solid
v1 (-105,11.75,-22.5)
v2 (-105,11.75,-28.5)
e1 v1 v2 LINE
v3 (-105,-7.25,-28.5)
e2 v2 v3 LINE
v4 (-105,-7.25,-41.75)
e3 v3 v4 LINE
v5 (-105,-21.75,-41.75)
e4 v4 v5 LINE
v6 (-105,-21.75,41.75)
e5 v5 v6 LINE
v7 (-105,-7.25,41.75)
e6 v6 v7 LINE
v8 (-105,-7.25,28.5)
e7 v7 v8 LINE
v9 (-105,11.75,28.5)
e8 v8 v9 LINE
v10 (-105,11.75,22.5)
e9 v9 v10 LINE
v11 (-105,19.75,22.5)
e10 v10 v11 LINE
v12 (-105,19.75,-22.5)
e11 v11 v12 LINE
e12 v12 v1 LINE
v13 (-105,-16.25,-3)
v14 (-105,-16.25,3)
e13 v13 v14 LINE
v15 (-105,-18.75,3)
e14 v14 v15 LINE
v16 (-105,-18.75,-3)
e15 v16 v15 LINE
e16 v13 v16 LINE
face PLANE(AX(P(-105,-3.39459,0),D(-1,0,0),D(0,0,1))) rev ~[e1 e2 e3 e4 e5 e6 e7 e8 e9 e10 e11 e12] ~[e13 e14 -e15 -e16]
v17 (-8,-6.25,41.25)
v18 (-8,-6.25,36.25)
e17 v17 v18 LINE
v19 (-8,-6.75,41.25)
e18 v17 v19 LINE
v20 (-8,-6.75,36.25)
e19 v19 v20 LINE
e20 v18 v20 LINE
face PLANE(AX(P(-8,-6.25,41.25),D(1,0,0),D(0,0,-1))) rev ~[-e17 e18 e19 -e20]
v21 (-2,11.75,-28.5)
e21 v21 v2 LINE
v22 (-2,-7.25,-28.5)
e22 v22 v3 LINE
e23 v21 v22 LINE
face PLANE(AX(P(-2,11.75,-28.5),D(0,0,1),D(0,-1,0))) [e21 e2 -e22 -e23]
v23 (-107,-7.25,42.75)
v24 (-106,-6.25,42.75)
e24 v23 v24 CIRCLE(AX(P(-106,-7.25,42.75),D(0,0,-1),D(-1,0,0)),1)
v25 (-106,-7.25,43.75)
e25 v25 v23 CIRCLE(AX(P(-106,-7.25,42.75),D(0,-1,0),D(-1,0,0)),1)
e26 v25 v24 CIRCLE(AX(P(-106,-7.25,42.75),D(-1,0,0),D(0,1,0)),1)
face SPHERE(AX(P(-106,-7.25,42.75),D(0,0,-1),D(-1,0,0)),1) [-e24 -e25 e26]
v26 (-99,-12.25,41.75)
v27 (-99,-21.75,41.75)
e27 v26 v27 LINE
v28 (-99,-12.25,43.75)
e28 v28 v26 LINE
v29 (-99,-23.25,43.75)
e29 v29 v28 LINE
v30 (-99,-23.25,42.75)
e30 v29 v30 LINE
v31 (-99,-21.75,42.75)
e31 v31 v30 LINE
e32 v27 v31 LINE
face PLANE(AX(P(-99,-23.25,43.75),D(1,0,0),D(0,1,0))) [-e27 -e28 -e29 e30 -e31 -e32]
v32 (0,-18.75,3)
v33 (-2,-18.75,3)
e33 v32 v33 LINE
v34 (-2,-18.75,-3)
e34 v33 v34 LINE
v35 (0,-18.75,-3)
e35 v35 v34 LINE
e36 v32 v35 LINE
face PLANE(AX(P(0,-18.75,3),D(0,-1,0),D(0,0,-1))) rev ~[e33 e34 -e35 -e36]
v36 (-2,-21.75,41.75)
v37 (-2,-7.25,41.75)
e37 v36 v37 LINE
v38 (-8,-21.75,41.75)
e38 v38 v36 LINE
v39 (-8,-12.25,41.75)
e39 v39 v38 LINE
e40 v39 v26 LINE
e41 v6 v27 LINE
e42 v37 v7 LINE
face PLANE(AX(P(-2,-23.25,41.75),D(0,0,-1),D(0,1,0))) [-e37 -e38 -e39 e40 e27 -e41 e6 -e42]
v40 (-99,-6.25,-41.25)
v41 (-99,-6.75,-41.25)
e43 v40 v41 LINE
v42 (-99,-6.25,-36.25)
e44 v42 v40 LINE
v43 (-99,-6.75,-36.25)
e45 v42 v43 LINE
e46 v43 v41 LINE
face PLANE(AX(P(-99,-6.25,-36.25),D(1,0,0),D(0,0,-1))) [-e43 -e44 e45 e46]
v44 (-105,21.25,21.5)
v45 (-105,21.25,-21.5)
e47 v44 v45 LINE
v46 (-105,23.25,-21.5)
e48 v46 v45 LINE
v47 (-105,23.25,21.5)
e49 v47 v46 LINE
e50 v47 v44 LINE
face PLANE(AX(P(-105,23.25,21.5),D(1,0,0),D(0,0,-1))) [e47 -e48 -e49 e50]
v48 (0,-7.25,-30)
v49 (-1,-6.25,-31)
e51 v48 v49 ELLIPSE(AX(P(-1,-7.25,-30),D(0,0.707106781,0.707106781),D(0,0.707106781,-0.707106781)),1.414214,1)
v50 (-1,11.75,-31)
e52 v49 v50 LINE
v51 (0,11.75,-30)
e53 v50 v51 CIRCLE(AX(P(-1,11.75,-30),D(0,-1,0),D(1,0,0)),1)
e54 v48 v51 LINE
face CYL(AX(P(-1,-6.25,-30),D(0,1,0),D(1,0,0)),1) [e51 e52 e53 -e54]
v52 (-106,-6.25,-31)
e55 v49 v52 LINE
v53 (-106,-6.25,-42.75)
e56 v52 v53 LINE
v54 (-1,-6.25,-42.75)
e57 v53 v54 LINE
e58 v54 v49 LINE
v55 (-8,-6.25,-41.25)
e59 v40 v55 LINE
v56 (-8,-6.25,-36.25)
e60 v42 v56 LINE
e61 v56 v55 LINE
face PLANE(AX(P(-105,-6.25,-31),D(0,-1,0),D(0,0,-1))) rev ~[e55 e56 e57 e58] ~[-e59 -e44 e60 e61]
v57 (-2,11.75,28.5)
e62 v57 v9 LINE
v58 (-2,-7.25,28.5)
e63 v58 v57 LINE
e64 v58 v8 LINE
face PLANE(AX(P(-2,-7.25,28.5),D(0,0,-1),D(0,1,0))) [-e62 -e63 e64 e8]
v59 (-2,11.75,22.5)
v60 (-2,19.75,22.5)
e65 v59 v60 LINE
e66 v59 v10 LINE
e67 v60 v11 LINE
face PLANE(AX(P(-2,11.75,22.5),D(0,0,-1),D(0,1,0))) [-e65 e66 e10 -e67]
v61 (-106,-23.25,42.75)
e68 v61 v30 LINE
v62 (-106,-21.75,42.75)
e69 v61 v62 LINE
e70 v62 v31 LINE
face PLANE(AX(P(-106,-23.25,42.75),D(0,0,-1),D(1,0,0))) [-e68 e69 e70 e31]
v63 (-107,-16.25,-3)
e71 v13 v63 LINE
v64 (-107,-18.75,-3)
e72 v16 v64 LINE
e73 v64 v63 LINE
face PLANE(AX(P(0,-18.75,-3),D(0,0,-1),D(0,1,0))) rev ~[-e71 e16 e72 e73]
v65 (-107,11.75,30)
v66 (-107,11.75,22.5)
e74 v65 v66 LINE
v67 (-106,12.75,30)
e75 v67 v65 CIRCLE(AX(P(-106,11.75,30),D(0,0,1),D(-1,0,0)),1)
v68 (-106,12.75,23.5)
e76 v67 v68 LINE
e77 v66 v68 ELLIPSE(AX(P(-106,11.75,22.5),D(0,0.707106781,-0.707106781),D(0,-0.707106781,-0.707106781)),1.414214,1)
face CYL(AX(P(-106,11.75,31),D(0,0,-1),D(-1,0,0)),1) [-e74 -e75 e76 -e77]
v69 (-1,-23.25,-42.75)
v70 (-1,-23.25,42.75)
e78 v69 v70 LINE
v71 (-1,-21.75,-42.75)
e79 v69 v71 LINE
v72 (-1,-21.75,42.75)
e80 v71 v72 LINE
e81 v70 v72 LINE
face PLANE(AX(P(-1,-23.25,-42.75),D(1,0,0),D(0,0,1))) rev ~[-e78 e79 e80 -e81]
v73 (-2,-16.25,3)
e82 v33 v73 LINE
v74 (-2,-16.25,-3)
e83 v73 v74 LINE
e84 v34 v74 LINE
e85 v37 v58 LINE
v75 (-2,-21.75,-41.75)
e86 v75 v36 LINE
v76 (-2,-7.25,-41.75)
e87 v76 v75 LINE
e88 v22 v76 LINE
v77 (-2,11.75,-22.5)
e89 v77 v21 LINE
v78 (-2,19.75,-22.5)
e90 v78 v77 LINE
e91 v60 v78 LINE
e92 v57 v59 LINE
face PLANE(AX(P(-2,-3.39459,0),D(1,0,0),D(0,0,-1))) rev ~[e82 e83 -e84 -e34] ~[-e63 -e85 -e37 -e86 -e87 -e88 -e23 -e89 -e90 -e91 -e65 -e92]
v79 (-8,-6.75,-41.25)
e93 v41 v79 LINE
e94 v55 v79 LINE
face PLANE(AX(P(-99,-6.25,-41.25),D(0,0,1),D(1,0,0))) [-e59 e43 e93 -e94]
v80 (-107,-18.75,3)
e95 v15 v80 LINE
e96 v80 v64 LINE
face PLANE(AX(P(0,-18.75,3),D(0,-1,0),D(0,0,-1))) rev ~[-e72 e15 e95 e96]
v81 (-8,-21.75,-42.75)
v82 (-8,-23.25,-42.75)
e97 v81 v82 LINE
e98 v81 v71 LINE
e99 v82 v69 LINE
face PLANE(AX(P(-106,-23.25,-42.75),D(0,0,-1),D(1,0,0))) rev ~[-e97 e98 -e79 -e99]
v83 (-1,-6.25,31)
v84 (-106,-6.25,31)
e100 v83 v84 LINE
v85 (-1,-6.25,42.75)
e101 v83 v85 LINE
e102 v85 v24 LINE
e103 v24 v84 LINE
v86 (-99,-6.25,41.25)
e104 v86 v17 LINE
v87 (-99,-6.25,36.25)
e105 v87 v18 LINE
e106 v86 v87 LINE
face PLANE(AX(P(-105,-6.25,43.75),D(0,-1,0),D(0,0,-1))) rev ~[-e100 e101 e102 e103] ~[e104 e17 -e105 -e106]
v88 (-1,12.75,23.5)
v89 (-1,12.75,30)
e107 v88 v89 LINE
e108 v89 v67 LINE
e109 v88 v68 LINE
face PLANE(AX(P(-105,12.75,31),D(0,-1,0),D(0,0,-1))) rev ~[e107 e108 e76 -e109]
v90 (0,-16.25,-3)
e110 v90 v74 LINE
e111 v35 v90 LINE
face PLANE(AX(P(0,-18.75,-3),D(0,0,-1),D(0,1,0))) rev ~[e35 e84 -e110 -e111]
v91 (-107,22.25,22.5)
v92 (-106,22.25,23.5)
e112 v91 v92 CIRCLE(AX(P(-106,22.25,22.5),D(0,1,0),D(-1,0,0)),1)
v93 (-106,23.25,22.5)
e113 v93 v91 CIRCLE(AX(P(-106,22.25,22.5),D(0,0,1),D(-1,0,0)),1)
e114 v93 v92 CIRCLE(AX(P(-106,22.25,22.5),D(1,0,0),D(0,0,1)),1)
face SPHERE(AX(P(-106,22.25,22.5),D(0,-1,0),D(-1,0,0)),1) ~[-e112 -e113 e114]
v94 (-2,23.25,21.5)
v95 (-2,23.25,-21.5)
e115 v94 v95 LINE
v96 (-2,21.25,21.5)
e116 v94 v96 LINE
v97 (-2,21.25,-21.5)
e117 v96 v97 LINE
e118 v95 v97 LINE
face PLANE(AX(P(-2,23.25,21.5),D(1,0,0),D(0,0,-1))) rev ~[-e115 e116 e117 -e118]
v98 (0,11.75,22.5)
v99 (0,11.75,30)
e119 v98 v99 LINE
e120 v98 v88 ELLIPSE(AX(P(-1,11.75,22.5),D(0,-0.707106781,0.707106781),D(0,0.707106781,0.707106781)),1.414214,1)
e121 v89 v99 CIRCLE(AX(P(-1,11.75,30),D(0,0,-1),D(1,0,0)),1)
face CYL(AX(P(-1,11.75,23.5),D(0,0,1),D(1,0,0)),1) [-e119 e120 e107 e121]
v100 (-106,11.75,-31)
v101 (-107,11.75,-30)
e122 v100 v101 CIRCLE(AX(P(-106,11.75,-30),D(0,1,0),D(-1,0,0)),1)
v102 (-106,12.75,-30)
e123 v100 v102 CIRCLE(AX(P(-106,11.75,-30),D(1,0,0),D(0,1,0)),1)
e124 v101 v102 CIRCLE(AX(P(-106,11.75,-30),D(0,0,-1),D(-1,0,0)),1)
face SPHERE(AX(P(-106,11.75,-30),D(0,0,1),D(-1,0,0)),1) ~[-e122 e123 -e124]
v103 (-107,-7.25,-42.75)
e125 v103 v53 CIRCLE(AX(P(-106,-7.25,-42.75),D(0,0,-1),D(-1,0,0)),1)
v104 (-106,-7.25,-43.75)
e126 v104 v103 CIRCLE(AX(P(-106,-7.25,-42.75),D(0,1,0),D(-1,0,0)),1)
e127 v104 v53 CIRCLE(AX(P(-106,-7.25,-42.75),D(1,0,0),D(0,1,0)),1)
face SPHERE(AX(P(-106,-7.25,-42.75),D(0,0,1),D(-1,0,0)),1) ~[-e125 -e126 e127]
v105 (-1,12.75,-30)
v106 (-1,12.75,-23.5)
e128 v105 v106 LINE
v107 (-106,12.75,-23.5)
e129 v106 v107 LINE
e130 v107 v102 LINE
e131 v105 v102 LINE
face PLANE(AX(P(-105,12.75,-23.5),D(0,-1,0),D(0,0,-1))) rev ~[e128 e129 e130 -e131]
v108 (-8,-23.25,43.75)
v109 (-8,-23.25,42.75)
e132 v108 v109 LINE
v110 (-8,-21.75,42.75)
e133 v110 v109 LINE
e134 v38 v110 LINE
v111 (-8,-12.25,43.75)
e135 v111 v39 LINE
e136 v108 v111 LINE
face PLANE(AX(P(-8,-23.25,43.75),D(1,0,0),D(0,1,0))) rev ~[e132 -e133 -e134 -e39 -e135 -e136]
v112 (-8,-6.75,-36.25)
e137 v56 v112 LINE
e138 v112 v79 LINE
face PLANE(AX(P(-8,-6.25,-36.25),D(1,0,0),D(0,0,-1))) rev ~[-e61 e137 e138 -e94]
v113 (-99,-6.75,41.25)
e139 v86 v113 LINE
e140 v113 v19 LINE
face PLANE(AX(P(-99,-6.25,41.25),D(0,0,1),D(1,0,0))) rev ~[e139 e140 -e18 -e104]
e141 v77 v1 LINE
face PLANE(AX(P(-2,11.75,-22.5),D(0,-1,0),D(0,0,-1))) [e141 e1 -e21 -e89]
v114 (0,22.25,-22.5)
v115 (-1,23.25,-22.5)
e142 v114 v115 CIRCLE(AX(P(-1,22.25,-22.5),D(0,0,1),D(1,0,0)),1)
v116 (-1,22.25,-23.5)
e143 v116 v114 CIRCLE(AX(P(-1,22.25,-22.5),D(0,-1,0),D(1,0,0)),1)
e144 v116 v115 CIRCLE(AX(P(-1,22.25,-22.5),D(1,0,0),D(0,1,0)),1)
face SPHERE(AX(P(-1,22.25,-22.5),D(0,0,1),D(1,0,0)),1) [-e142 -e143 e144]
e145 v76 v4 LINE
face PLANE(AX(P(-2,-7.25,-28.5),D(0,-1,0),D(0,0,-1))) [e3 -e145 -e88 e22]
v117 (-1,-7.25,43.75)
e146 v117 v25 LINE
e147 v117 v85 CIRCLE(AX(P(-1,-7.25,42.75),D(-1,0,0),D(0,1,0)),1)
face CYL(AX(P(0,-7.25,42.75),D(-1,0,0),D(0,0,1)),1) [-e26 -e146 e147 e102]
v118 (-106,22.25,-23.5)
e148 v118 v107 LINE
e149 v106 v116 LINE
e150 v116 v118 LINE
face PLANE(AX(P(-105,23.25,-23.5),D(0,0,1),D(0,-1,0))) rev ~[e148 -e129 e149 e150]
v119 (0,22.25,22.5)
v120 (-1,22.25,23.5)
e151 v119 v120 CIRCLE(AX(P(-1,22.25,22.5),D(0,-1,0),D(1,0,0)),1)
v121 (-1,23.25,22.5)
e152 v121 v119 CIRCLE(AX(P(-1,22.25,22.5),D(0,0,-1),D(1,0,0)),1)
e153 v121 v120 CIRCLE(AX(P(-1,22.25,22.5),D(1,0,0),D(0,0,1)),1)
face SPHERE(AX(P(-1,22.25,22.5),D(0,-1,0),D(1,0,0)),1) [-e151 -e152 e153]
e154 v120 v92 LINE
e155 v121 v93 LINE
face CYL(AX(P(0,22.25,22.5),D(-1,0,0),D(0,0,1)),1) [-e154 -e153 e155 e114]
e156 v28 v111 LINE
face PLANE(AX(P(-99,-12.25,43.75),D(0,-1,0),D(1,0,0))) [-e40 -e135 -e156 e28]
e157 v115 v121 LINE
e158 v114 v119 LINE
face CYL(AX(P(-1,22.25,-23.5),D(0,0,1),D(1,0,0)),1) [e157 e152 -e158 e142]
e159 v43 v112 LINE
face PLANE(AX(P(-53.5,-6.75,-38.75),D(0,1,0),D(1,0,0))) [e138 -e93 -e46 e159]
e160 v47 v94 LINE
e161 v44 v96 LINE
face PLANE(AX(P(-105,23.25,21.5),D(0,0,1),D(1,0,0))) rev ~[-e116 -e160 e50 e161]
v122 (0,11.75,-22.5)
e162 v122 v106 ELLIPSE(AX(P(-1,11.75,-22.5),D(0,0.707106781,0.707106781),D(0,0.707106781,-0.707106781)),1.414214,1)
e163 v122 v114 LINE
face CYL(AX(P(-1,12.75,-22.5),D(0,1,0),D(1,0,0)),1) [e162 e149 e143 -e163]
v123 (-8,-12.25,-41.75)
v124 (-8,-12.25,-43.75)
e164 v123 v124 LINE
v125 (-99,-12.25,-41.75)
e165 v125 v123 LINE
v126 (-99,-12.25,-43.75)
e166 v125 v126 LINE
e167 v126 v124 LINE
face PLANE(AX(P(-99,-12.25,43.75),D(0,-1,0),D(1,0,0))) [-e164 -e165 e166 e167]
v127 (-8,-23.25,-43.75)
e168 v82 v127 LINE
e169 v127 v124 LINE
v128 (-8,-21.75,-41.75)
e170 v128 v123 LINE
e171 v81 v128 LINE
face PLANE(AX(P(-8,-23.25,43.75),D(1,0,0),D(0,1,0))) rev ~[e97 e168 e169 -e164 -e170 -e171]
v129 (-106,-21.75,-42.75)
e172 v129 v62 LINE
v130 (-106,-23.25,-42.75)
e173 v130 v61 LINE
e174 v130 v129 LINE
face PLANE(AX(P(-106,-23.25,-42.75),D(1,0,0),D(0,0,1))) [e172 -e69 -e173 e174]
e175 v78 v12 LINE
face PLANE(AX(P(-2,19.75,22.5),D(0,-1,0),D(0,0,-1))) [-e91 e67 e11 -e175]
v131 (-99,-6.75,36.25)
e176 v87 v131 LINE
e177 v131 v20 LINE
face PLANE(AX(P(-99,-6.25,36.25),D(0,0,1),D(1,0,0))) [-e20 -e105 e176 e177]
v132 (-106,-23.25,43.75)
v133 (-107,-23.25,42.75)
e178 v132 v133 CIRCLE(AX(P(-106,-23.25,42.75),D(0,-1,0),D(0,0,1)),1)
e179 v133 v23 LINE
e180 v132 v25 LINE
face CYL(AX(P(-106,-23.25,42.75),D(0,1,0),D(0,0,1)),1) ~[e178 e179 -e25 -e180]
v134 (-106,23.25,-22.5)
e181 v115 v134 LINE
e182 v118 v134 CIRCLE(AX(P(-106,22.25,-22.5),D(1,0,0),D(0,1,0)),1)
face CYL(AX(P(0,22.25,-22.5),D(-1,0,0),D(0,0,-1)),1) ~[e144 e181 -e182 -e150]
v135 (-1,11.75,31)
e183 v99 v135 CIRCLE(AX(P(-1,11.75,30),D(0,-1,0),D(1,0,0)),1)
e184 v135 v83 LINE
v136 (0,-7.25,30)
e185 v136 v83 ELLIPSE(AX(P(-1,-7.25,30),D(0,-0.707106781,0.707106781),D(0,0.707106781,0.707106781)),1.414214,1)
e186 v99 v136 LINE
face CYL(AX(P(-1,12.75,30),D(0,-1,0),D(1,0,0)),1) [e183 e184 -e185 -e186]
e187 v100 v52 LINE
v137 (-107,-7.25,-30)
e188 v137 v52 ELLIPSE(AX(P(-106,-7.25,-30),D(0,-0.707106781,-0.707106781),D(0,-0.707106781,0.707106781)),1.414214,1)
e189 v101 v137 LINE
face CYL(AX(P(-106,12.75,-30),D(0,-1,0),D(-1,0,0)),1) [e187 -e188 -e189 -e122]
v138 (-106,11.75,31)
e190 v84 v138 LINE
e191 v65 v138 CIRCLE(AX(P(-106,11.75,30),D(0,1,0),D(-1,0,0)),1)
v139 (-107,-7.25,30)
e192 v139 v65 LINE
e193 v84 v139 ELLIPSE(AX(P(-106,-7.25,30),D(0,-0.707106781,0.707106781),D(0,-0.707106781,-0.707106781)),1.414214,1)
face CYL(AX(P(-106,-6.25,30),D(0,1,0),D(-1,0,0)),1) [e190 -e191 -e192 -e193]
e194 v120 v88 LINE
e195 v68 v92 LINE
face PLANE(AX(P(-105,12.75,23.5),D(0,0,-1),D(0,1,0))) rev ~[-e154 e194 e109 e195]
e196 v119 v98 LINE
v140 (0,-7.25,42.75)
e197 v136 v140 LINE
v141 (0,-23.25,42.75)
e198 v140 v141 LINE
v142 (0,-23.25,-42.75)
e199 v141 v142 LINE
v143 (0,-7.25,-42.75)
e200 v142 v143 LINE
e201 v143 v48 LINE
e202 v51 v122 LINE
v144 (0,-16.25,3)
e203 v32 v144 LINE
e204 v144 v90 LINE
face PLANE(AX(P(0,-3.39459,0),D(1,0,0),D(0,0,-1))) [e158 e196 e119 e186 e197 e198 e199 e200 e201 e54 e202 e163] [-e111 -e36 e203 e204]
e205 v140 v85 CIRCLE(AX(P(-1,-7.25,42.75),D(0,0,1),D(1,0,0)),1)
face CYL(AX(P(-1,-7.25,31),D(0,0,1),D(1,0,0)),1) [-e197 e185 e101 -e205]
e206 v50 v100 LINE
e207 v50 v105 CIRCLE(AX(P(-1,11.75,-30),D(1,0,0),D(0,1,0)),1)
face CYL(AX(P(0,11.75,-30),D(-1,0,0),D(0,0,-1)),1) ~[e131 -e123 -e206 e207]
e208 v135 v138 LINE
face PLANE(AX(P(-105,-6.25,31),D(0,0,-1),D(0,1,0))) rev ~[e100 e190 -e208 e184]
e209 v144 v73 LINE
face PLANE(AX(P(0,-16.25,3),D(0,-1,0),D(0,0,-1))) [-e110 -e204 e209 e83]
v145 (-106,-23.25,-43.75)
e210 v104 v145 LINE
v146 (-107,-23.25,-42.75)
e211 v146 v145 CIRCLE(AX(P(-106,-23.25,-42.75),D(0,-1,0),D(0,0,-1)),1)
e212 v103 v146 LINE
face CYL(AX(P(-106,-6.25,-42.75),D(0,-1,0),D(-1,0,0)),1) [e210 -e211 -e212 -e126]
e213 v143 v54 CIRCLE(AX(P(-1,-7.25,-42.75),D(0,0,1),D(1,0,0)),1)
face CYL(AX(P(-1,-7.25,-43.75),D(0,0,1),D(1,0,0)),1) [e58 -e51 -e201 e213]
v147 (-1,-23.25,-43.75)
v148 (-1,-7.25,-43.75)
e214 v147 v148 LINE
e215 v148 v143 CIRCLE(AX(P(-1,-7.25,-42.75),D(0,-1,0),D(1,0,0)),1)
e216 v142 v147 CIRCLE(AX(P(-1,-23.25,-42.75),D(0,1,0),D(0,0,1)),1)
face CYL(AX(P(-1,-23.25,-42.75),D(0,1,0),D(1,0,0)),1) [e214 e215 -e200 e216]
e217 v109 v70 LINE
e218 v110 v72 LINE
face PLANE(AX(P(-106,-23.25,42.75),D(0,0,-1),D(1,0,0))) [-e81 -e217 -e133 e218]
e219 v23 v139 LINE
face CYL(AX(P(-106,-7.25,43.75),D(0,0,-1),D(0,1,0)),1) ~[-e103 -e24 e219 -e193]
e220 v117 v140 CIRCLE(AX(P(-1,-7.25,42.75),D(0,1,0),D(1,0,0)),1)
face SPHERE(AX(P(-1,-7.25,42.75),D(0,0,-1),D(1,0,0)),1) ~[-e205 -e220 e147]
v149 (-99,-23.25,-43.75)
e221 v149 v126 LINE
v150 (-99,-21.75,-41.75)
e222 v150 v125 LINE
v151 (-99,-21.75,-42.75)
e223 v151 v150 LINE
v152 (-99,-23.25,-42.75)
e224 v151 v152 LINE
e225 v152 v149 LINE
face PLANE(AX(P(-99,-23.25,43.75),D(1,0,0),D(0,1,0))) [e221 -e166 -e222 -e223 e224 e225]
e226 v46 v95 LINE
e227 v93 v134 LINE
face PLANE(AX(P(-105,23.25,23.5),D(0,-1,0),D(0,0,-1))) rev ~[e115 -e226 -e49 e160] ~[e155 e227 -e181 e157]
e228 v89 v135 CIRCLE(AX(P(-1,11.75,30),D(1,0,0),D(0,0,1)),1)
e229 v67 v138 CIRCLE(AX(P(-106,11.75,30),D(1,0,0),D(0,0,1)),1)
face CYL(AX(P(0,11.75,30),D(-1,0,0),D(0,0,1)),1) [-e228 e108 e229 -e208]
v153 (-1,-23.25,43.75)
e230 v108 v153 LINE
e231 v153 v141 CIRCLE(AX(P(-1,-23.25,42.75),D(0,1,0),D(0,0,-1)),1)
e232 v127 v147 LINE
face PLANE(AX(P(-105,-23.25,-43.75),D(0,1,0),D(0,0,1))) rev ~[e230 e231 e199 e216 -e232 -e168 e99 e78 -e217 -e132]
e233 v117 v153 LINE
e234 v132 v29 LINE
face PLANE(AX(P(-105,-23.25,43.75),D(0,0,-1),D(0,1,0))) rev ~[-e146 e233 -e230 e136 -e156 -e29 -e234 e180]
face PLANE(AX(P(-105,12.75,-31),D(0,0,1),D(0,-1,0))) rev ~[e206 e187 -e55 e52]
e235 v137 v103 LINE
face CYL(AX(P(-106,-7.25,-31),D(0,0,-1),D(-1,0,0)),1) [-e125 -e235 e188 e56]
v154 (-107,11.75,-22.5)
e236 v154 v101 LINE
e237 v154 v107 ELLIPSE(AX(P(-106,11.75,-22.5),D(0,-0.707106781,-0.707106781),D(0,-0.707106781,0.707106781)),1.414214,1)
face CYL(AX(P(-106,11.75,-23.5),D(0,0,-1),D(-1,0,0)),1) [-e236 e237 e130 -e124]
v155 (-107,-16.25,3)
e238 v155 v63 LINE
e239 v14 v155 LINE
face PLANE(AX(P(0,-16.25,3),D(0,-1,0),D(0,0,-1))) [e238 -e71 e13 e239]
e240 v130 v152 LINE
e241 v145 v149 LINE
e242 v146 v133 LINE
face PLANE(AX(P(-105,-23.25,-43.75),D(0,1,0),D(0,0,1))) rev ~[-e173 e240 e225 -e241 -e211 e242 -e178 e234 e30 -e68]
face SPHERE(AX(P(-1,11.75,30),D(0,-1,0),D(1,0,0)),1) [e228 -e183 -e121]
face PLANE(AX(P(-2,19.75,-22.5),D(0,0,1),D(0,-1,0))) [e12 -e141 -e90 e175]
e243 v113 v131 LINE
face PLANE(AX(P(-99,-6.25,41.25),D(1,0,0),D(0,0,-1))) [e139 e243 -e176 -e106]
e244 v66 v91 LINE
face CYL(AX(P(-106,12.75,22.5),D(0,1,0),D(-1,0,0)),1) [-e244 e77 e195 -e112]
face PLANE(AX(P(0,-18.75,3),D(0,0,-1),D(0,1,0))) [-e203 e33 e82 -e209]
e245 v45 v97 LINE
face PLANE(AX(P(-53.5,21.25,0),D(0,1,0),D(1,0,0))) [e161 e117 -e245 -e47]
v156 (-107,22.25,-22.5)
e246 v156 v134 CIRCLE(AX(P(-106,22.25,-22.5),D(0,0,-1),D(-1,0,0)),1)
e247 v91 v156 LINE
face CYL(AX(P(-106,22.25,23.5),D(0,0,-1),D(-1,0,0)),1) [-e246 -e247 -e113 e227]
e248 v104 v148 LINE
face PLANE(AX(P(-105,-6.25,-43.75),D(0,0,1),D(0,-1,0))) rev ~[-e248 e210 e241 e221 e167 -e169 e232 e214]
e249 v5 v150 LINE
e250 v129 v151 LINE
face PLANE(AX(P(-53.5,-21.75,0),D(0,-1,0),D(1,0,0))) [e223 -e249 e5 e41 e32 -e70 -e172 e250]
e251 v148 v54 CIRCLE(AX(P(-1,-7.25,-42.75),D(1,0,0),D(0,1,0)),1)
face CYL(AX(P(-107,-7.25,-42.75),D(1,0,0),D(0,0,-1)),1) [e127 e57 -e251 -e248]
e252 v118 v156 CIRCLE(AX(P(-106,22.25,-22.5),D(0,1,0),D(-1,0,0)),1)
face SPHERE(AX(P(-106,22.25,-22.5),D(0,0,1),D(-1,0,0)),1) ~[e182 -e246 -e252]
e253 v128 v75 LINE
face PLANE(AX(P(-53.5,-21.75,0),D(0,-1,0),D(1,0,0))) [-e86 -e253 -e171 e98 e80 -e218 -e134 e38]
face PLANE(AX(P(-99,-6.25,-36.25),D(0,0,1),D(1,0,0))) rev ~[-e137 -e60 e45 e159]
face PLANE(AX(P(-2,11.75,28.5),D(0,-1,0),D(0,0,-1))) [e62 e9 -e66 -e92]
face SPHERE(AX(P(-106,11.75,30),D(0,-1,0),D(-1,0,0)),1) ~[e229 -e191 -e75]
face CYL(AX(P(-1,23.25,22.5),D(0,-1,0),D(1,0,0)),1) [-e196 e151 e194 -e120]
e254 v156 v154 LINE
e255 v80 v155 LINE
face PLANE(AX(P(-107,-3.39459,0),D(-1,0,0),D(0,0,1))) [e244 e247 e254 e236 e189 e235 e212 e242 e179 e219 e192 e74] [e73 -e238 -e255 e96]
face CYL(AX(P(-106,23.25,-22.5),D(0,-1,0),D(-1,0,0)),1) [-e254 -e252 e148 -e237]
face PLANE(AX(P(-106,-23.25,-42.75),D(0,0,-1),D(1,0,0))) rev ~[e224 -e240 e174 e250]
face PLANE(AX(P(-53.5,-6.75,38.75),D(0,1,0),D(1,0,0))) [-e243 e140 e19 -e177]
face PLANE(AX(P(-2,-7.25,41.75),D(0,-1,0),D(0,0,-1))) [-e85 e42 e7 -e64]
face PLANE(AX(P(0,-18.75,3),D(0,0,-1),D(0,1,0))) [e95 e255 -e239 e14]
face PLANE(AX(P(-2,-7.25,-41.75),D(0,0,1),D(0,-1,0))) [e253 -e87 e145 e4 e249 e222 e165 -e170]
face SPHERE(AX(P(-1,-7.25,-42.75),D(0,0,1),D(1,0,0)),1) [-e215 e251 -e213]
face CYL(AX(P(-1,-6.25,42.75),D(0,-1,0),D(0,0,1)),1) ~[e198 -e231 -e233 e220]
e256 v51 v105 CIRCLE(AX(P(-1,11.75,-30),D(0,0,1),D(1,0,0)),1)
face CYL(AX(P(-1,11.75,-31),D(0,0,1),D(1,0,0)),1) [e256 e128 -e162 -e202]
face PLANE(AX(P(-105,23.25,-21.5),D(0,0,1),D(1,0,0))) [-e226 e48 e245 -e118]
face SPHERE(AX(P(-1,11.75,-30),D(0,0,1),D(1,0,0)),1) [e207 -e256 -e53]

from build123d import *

# Parameters (mm, degrees)
BOSS_EXTRUDE1_DEPTH = 2
BOSS_EXTRUDE2_DEPTH = 103
BOSS_EXTRUDE3_DEPTH = 2
SKETCH4_W           = 103
SKETCH4_H           = 43
CUT_EXTRUDE1_DEPTH  = 2
SKETCH5_W           = 91
SKETCH5_H           = 5
CUT_EXTRUDE2_DEPTH  = 0.5
SKETCH7_W           = 105
SKETCH7_H           = 85.5
SKETCH7_W_2         = 103
SKETCH7_H_2         = 83.5
CUT_EXTRUDE3_DEPTH  = 1.5
CUT_EXTRUDE4_REACH  = 142.164
SKETCH8_W           = 91
SKETCH8_H           = 11
CUT_EXTRUDE5_REACH  = 119.914
SKETCH9_W           = 6
SKETCH9_H           = 2.5
FILLET1_R           = 1


with BuildPart() as part:
    # Sketch1 → Boss-Extrude1 (new body)
    with BuildSketch(Plane(origin=(0, 0, 0), x_dir=(0, 0, -1), z_dir=(1, 0, 0))):
        Polygon((-43.75, -23.25), (43.75, -23.25), (43.75, -6.25), (31, -6.25), (31, 12.75), (23.5, 12.75), (23.5, 23.25), (-23.5, 23.25), (-23.5, 12.75), (-31, 12.75), (-31, -6.25), (-43.75, -6.25), align=None)
    extrude(amount=-BOSS_EXTRUDE1_DEPTH)

    # Sketch2 → Boss-Extrude2 (add)
    with BuildSketch(Plane.ZY.offset(2)):
        Polygon((-43.75, -23.25), (-43.75, -6.25), (-31, -6.25), (-31, 12.75), (-23.5, 12.75), (-23.5, 23.25), (23.5, 23.25), (23.5, 12.75), (31, 12.75), (31, -6.25), (43.75, -6.25), (43.75, -23.25), (41.75, -23.25), (41.75, -7.25), (28.5, -7.25), (28.5, 11.75), (22.5, 11.75), (22.5, 19.75), (-22.5, 19.75), (-22.5, 11.75), (-28.5, 11.75), (-28.5, -7.25), (-41.75, -7.25), (-41.75, -23.25), align=None)
    extrude(amount=BOSS_EXTRUDE2_DEPTH)

    # Sketch3 → Boss-Extrude3 (add)
    with BuildSketch(Plane.ZY.offset(105)):
        Polygon((43.75, -23.25), (43.75, -6.25), (31, -6.25), (31, 12.75), (23.5, 12.75), (23.5, 23.25), (-23.5, 23.25), (-23.5, 12.75), (-31, 12.75), (-31, -6.25), (-43.75, -6.25), (-43.75, -23.25), align=None)
    extrude(amount=BOSS_EXTRUDE3_DEPTH)

    # Sketch4 → Cut-Extrude1 (cut)
    with BuildSketch(Plane(origin=(0, 23.25, 0), x_dir=(1, 0, 0), z_dir=(0, 1, 0))):
        with Locations((-53.5, 0)):
            Rectangle(SKETCH4_W, SKETCH4_H)
    extrude(amount=-CUT_EXTRUDE1_DEPTH, mode=Mode.SUBTRACT)

    # Sketch5 → Cut-Extrude2 (cut)
    with BuildSketch(Plane(origin=(0, -6.25, 0), x_dir=(1, 0, 0), z_dir=(0, 1, 0))):
        with Locations((-53.5, -38.75)):
            Rectangle(SKETCH5_W, SKETCH5_H)
        with Locations((-53.5, 38.75)):
            Rectangle(SKETCH5_W, SKETCH5_H)
    extrude(amount=-CUT_EXTRUDE2_DEPTH, mode=Mode.SUBTRACT)

    # Sketch7 → Cut-Extrude3 (cut)
    with BuildSketch(Plane.XZ.offset(23.25)):
        with Locations((-53.5, 0)):
            Rectangle(SKETCH7_W, SKETCH7_H)
        with Locations((-53.5, 0)):
            Rectangle(SKETCH7_W_2, SKETCH7_H_2, mode=Mode.SUBTRACT)
    extrude(amount=-CUT_EXTRUDE3_DEPTH, mode=Mode.SUBTRACT)

    # Cut-Extrude4: up to this face of the body (flat: up to its plane)
    cut_extrude4_end = Plane(part.part.faces().sort_by_distance((-53.5, -14.75, -43.75))[0])
    # Sketch8 → Cut-Extrude4 (cut, up to the picked face)
    with BuildSketch(Plane.XY.offset(43.75), mode=Mode.PRIVATE) as cut_extrude4_sk1:
        with Locations((-53.5, -17.75)):
            Rectangle(SKETCH8_W, SKETCH8_H)
    cut_extrude4_tool1 = split(extrude(cut_extrude4_sk1.sketch, amount=-CUT_EXTRUDE4_REACH, mode=Mode.PRIVATE), bisect_by=cut_extrude4_end, keep=Keep.BOTH, mode=Mode.PRIVATE)
    add(cut_extrude4_tool1.solids().sort_by(Axis((-53.5, -17.75, 43.75), (0, 0, -1)))[0], mode=Mode.SUBTRACT)

    # Cut-Extrude5: up to this face of the body (flat: up to its plane)
    cut_extrude5_end = Plane(part.part.faces().sort_by_distance((-107, -2.921533713, 0))[0])
    # Sketch9 → Cut-Extrude5 (cut, up to the picked face)
    with BuildSketch(Plane(origin=(0, 0, 0), x_dir=(0, 0, -1), z_dir=(1, 0, 0)), mode=Mode.PRIVATE) as cut_extrude5_sk1:
        with Locations((0, -17.5)):
            Rectangle(SKETCH9_W, SKETCH9_H)
    cut_extrude5_tool1 = split(extrude(cut_extrude5_sk1.sketch, amount=-CUT_EXTRUDE5_REACH, mode=Mode.PRIVATE), bisect_by=cut_extrude5_end, keep=Keep.BOTH, mode=Mode.PRIVATE)
    add(cut_extrude5_tool1.solids().sort_by(Axis((0, -17.5, 0), (-1, 0, 0)))[0], mode=Mode.SUBTRACT)

    # Fillet1
    fillet1_edges = [part.edges().sort_by_distance(p)[0] for p in [
        (-107, -6.25, 37.375),
        (-107, 3.25, 31),
        (-107, 12.75, 27.25),
        (-107, 18, 23.5),
        (-107, 23.25, 0),
        (-107, 18, -23.5),
        (-107, 12.75, -27.25),
        (-107, 3.25, -31),
        (-107, -6.25, -37.375),
        (-107, -14.75, -43.75),
        (-107, -14.75, 43.75),
        (0, -6.25, 37.375),
        (0, 3.25, 31),
        (0, 12.75, 27.25),
        (0, 18, 23.5),
        (0, 23.25, 0),
        (0, 18, -23.5),
        (0, 12.75, -27.25),
        (0, 3.25, -31),
        (0, -6.25, -37.375),
        (0, -14.75, -43.75),
        (0, -14.75, 43.75),
        (-53.5, -6.25, 43.75),
        (-53.5, 12.75, 31),
        (-53.5, 23.25, 23.5),
        (-53.5, 23.25, -23.5),
        (-53.5, 12.75, -31),
        (-53.5, -6.25, -43.75),
    ]]
    fillet(fillet1_edges, radius=FILLET1_R)


solid = part.part
